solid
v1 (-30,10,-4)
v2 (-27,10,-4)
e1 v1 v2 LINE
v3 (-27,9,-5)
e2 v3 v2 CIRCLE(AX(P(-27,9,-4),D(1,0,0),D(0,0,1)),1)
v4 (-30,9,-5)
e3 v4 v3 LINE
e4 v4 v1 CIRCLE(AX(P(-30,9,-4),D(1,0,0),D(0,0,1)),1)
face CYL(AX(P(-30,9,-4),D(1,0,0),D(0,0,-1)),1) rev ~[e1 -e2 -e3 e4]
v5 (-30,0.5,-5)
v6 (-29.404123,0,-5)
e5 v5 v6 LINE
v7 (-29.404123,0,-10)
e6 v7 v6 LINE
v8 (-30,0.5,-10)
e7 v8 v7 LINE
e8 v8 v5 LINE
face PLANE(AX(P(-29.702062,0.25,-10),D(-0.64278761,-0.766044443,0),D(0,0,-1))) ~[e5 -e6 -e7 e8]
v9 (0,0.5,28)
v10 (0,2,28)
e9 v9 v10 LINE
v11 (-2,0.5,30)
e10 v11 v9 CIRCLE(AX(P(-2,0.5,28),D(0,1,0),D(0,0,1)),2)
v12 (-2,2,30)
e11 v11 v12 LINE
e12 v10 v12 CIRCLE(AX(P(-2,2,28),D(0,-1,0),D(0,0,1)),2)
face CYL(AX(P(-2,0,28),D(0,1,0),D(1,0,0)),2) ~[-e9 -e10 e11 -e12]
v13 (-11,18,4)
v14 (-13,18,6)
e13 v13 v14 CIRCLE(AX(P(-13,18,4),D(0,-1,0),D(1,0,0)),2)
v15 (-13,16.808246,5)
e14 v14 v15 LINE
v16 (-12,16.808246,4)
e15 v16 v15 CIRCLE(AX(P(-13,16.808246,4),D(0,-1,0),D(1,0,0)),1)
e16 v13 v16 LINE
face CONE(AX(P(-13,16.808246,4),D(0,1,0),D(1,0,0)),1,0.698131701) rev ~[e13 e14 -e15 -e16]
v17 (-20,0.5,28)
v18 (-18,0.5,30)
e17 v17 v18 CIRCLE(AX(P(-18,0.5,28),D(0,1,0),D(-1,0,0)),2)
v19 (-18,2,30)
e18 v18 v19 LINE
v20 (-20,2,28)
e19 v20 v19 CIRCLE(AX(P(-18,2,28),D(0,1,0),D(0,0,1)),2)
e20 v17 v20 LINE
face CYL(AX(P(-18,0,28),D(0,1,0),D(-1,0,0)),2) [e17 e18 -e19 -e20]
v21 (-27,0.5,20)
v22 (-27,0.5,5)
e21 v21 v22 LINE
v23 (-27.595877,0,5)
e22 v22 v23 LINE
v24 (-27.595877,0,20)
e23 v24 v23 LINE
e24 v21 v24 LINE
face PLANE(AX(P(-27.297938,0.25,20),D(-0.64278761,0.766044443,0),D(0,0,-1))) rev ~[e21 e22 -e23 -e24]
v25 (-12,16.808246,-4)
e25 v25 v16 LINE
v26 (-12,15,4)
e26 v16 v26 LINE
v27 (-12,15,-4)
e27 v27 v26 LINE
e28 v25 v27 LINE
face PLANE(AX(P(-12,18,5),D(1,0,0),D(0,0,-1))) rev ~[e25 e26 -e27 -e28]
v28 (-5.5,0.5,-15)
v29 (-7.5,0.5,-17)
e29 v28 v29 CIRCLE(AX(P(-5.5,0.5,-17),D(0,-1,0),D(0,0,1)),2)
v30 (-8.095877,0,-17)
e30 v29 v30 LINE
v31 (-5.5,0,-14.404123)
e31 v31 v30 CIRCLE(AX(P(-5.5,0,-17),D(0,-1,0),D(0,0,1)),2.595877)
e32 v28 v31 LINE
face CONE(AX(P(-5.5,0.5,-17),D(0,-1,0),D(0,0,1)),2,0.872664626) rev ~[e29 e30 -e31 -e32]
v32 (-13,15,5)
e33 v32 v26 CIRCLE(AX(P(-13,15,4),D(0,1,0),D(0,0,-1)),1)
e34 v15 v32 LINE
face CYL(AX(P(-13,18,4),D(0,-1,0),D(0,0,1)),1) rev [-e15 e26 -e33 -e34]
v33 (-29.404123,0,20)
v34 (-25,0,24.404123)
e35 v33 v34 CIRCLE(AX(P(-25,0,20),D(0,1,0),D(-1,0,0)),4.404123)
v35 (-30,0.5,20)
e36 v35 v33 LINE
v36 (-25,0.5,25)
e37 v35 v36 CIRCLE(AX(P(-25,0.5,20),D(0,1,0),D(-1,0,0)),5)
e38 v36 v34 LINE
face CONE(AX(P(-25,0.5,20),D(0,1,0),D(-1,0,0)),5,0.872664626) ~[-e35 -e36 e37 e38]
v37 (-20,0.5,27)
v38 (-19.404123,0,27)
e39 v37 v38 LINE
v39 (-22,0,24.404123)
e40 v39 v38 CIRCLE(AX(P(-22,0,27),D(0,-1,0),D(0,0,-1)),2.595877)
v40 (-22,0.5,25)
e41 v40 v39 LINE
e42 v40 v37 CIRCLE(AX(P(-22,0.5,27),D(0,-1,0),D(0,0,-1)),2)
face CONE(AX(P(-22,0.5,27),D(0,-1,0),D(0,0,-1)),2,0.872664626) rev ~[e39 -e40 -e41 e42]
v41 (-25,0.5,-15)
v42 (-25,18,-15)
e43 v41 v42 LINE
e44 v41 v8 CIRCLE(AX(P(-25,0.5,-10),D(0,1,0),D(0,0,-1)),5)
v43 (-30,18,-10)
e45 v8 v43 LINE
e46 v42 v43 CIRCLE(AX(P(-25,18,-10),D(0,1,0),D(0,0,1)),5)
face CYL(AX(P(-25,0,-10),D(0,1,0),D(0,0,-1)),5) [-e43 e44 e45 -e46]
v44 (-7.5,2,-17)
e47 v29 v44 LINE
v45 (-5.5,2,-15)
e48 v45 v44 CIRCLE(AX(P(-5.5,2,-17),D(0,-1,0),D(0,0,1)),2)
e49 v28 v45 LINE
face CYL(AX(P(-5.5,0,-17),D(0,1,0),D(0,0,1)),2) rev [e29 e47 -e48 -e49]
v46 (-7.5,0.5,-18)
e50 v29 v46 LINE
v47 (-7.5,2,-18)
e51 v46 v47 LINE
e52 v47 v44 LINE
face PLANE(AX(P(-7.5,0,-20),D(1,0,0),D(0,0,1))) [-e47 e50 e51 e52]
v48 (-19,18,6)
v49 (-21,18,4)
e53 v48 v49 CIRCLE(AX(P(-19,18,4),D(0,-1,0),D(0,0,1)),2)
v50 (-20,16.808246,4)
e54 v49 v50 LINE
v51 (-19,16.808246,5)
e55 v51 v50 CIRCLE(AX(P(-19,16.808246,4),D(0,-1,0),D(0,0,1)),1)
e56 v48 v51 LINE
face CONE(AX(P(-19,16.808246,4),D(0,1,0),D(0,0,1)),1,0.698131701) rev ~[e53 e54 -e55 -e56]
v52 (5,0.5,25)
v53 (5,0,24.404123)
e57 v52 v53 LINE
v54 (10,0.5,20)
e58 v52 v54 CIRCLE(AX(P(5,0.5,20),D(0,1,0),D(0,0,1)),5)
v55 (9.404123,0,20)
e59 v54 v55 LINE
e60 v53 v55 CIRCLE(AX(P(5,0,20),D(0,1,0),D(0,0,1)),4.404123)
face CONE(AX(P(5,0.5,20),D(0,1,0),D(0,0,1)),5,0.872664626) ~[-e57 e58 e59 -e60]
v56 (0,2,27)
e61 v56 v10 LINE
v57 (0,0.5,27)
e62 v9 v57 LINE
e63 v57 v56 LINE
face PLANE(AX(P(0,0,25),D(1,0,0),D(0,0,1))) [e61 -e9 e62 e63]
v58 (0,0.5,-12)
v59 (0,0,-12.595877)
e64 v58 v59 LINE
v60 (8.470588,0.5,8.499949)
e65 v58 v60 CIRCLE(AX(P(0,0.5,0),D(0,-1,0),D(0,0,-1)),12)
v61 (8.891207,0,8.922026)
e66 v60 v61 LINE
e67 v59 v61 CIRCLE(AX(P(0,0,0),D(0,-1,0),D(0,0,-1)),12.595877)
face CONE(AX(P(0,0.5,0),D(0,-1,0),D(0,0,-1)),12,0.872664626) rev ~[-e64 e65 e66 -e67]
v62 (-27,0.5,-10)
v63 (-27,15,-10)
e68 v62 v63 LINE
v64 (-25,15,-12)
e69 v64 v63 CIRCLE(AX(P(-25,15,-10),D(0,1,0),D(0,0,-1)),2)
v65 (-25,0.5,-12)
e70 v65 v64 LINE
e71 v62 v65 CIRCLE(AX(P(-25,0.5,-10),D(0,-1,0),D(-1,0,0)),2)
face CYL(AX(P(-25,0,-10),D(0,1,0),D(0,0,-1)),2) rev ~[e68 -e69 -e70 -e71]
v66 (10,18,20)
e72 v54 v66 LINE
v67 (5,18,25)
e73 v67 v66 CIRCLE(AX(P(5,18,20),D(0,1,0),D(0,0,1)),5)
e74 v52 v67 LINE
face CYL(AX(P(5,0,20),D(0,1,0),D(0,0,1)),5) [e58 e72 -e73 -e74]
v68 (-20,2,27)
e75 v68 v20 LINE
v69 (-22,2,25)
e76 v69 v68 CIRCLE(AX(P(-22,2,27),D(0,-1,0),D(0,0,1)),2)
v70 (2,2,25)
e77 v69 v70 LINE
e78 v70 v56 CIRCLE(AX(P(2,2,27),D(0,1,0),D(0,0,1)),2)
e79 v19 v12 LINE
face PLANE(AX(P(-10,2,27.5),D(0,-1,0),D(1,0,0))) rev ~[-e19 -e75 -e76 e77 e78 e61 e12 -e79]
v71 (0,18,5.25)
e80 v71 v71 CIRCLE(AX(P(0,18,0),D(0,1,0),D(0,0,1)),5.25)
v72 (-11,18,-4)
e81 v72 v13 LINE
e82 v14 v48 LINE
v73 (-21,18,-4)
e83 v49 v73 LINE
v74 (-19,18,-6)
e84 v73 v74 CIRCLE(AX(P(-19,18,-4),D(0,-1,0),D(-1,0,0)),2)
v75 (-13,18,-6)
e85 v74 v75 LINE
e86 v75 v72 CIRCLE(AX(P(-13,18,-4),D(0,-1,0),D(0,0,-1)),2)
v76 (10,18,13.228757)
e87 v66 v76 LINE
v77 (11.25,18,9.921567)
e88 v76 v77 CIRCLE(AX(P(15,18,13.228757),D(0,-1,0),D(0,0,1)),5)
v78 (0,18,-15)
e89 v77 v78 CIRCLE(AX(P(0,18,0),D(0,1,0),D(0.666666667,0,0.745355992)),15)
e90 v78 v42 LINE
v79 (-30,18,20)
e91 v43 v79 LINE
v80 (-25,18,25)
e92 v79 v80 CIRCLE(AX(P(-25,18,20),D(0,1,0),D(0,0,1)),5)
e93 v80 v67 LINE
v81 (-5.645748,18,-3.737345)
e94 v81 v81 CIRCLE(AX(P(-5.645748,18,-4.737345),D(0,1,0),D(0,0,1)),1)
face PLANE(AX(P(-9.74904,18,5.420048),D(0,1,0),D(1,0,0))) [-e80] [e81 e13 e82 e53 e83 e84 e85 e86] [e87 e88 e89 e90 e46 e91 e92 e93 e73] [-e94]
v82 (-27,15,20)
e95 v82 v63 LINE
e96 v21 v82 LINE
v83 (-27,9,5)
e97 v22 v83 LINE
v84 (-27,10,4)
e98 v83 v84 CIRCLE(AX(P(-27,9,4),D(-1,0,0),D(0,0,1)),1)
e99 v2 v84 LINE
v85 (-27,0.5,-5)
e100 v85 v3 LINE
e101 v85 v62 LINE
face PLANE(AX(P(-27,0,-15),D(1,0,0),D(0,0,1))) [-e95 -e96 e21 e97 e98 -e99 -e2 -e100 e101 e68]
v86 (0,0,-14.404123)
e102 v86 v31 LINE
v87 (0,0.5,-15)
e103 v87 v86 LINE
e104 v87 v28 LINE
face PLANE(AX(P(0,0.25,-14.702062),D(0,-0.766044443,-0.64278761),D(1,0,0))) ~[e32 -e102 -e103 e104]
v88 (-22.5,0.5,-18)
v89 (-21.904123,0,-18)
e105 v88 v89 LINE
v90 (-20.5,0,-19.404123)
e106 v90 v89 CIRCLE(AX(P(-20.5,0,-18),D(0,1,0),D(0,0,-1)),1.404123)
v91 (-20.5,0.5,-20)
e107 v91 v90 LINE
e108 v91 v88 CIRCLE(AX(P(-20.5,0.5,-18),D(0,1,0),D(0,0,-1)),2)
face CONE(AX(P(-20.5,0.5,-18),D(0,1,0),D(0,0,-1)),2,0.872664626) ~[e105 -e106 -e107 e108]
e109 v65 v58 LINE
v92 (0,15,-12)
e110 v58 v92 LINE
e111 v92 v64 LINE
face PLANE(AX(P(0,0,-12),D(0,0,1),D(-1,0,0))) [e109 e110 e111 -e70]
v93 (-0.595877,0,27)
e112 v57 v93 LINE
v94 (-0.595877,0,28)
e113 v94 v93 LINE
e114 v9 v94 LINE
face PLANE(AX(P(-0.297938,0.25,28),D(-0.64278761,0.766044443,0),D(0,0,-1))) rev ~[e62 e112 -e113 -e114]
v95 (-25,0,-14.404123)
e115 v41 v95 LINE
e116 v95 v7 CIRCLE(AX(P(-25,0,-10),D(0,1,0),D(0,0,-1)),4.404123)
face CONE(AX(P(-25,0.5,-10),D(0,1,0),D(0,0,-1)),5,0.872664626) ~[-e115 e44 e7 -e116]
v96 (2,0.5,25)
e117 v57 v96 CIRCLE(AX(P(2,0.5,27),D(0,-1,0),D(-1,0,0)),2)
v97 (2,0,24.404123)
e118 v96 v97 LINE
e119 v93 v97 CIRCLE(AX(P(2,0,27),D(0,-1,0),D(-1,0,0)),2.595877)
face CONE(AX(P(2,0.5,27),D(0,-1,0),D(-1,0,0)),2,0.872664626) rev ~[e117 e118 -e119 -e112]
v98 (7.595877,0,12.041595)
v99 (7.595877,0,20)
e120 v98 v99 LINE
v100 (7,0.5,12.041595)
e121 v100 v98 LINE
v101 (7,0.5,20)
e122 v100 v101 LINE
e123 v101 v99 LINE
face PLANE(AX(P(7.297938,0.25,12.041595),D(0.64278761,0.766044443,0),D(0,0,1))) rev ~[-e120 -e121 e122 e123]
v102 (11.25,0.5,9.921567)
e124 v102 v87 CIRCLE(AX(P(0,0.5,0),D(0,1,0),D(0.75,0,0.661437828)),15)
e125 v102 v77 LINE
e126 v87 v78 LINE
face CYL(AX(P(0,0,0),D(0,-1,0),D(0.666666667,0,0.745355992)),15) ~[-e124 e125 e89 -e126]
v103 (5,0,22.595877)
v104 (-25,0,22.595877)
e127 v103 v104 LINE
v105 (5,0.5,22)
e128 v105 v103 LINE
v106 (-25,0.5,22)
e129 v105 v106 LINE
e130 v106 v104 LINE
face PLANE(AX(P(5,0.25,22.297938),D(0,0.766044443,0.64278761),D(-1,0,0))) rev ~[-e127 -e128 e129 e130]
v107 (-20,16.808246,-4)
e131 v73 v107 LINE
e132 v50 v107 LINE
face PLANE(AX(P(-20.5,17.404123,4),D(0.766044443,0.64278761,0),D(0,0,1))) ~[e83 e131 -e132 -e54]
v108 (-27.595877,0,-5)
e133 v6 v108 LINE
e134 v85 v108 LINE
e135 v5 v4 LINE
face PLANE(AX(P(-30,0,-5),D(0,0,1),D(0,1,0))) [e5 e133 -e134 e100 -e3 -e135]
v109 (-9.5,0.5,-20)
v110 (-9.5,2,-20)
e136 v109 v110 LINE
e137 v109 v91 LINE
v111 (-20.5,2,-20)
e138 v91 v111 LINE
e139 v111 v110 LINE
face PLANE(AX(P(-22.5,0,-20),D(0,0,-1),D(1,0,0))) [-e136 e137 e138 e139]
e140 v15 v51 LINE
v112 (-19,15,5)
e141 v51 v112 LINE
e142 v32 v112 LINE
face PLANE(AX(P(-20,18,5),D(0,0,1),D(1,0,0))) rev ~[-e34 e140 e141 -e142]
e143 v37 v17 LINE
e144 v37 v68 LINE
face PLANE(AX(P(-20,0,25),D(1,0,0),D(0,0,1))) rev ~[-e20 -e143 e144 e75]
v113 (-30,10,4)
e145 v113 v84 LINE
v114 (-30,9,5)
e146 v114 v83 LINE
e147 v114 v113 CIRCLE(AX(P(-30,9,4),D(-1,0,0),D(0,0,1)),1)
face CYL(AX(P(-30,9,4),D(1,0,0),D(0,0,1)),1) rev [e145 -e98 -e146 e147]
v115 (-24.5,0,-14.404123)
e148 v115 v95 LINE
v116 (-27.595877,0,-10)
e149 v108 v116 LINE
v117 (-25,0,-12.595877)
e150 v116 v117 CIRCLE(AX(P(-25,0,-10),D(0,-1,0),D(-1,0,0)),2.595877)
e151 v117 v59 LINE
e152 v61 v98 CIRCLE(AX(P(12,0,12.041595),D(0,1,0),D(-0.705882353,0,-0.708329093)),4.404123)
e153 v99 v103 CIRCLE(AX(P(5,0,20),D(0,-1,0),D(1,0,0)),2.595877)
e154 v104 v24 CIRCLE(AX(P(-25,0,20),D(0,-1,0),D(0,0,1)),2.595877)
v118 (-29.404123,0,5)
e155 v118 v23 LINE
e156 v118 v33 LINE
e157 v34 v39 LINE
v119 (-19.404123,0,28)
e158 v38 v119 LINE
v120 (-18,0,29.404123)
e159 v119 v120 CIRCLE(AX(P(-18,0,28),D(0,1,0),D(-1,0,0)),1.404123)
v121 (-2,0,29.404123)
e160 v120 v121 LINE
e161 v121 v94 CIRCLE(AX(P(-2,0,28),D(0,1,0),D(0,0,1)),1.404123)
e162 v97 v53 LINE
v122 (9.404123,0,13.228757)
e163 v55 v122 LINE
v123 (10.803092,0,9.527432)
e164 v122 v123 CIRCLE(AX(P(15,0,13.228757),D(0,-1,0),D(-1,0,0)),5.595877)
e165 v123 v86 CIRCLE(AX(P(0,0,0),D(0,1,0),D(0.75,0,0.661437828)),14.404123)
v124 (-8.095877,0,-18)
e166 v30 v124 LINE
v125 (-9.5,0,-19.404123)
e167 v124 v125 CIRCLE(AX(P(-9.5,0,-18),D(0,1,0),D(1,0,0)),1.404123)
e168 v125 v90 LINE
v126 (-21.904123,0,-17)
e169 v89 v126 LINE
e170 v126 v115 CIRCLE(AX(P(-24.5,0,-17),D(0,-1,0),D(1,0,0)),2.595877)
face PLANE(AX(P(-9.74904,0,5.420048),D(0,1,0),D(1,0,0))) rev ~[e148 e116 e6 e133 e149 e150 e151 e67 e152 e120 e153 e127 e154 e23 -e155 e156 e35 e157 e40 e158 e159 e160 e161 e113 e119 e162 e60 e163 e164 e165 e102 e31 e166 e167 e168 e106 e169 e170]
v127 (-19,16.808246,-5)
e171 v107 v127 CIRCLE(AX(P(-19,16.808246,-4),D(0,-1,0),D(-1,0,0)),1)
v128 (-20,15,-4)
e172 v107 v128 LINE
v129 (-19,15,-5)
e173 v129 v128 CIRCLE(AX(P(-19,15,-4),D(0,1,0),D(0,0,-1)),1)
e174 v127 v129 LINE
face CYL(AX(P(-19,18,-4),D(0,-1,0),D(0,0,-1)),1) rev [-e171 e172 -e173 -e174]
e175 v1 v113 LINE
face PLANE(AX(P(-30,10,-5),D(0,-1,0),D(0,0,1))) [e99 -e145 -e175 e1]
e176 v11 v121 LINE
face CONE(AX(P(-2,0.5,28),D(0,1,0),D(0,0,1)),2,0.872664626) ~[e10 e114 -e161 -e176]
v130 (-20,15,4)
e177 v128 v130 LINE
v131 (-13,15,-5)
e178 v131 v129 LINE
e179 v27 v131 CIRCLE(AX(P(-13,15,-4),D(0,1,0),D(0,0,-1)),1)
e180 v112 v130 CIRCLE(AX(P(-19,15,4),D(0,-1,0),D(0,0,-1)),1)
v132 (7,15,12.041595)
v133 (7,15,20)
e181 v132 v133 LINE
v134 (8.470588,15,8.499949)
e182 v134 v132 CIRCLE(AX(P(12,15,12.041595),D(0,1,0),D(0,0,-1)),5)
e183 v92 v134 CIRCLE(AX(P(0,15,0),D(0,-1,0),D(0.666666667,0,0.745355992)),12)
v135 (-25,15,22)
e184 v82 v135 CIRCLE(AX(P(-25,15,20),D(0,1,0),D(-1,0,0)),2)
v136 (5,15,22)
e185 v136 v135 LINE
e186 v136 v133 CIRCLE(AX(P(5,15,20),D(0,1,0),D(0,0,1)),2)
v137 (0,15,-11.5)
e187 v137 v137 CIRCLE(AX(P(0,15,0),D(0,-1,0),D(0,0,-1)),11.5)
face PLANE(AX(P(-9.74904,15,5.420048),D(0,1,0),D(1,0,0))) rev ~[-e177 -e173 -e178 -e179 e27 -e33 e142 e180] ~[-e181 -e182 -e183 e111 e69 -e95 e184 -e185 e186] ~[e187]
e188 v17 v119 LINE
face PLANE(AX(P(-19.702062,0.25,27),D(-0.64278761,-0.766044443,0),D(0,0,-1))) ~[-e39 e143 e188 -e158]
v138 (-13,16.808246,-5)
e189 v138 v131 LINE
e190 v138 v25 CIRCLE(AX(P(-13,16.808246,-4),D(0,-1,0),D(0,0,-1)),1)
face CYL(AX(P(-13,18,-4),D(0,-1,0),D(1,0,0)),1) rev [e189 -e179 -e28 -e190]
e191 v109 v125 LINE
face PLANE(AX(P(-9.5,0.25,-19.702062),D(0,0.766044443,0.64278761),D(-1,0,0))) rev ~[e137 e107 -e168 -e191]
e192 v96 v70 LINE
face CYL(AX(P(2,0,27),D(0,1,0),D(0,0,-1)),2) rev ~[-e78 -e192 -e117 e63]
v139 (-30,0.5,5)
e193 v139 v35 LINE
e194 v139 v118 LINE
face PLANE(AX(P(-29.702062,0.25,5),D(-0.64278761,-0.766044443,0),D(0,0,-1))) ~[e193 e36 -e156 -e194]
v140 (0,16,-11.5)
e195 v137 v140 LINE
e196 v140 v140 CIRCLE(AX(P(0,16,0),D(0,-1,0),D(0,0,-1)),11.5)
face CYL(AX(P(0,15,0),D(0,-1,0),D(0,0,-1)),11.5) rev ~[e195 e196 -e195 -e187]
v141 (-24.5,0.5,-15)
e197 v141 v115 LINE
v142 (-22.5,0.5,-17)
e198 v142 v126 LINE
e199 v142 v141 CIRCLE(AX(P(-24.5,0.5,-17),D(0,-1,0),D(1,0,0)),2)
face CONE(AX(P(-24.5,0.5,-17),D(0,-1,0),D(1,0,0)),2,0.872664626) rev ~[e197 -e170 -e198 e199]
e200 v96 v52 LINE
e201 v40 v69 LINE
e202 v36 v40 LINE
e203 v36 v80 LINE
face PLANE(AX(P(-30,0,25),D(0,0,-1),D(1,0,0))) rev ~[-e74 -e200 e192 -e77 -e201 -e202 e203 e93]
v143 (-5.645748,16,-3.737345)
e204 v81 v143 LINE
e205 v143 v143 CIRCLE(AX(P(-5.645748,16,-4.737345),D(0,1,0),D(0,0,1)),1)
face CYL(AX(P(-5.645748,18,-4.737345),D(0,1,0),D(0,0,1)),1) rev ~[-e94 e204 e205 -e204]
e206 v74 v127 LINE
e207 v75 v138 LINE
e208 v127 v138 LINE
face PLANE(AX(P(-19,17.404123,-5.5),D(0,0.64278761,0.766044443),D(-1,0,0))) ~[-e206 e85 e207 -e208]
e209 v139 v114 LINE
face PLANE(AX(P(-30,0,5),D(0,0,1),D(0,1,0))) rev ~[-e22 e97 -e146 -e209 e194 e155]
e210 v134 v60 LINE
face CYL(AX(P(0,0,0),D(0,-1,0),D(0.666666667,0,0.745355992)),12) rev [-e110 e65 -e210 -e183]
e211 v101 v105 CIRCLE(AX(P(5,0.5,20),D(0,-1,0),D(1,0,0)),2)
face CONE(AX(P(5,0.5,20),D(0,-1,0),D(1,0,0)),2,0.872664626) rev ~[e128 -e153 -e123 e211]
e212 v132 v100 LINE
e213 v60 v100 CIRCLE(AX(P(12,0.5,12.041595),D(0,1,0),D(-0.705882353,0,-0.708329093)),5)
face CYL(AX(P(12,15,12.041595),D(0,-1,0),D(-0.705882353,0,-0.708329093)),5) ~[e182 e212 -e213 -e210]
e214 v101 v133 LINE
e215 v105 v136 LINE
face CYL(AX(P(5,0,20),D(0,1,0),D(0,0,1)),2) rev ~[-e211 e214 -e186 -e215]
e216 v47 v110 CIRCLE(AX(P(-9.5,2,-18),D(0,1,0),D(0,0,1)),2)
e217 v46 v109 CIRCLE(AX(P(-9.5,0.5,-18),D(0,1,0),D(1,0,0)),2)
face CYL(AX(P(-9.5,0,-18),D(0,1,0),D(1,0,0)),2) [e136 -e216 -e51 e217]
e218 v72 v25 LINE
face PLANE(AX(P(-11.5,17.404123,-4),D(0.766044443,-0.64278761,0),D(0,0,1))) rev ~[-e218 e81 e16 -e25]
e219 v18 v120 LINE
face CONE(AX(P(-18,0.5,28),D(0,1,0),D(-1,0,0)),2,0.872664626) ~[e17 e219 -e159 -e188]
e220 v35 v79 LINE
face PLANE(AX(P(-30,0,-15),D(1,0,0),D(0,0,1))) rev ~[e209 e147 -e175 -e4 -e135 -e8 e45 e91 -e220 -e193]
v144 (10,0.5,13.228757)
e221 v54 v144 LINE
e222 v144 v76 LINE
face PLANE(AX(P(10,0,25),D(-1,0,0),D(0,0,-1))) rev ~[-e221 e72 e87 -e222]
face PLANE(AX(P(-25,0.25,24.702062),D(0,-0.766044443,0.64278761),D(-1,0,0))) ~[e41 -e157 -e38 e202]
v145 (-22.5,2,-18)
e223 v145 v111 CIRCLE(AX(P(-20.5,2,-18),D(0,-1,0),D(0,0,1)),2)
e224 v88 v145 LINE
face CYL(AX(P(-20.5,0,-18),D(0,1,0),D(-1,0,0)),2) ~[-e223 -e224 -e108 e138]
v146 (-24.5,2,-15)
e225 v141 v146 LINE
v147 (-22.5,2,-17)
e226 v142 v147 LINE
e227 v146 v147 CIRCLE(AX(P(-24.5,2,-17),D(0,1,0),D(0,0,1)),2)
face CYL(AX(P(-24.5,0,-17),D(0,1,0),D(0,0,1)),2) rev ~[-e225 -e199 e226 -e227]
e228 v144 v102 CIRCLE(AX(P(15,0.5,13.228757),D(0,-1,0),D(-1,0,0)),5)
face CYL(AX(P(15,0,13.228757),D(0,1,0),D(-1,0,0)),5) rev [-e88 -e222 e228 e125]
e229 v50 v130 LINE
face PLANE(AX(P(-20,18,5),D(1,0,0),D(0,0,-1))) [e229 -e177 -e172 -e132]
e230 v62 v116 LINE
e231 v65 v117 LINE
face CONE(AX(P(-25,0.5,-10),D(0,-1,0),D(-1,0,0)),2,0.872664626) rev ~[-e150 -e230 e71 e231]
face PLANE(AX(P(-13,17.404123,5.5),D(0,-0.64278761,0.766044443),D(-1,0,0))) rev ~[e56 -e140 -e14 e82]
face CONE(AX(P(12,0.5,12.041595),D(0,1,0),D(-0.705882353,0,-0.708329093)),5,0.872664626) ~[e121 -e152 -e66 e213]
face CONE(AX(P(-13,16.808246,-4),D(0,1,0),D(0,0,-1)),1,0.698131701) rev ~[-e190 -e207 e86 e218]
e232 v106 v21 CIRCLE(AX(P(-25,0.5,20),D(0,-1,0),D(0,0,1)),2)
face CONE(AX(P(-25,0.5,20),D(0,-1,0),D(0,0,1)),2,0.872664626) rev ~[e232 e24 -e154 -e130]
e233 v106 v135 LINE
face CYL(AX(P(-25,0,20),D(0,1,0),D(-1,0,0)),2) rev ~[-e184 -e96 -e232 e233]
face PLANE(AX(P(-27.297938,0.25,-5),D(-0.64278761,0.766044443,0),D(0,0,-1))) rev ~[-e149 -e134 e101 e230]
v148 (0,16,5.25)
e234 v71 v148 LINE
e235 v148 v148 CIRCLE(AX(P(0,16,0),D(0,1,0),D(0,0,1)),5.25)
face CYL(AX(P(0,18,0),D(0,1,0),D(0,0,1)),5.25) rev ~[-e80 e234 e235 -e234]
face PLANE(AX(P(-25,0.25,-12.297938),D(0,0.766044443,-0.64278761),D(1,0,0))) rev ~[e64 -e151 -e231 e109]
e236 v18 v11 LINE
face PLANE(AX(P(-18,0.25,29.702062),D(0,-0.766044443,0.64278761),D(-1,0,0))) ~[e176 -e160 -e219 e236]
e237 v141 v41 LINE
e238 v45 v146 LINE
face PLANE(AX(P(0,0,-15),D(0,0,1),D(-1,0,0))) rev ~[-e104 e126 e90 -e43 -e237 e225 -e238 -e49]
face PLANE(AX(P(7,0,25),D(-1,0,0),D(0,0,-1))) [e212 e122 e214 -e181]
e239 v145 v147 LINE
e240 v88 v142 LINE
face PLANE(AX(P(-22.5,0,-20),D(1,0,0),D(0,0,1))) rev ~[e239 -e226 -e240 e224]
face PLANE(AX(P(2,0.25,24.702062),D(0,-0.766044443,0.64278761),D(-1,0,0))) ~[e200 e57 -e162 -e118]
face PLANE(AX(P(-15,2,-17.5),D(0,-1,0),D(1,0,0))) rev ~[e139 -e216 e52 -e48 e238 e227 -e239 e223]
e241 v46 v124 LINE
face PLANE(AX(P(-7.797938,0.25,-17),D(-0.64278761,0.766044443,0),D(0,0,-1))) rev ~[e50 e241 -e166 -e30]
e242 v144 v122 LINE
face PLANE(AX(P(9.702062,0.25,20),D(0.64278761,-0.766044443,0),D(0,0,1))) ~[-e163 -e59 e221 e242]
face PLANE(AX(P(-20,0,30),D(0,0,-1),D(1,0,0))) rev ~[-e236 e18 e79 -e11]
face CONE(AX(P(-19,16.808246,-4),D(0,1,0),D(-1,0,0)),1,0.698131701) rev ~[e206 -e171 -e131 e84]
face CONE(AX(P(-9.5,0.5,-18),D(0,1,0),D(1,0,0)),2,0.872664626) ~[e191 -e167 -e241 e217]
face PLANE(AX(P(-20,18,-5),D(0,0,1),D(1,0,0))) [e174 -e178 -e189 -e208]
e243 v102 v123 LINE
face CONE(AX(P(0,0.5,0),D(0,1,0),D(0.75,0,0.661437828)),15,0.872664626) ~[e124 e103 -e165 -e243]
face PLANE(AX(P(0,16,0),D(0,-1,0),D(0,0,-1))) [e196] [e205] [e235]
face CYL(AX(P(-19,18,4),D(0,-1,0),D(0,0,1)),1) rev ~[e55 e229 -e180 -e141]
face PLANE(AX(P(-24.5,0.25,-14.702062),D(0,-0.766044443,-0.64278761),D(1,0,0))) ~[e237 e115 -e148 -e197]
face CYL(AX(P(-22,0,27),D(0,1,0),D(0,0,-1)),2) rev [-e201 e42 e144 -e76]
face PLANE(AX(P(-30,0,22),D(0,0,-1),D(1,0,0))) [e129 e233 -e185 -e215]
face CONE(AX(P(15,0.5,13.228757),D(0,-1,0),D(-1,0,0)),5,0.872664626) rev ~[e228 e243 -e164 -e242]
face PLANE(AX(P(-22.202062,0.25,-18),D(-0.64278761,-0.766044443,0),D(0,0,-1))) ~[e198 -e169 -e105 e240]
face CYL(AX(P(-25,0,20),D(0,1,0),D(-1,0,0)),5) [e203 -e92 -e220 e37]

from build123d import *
from OCP.BRepFilletAPI import BRepFilletAPI_MakeChamfer

# Parameters (mm, degrees)
BOSS_EXTRUDE1_DEPTH = 18
FILLET1_R           = 5
SHELL1_T            = -3
SKETCH3_R           = 5.25
CUT_EXTRUDE1_DEPTH  = 44
SKETCH4_R           = 11.5
CUT_EXTRUDE2_DEPTH  = 1
SKETCH5_R           = 1
CUT_EXTRUDE3_DEPTH  = 44
CUT_EXTRUDE4_REACH  = 56.534
SKETCH6_W           = 10
SKETCH6_H           = 10
FILLET2_R           = 1
CUT_EXTRUDE7_REACH  = 45
SKETCH7_W           = 8
SKETCH7_H           = 10
FILLET3_R           = 1
SKETCH8_W           = 20
SKETCH8_H           = 5
SKETCH8_W_2         = 15
BOSS_EXTRUDE2_DEPTH = 2
FILLET4_R           = 2
FILLET5_R           = 5
FILLET6_R           = 5
CHAMFER2_SIZE       = 1
CHAMFER2_SIZE2      = 1.191753593
CHAMFER3_SIZE       = 0.5
CHAMFER3_SIZE2      = 0.595876796


with BuildPart() as part:
    # Sketch1 → Boss-Extrude1 (new body)
    with BuildSketch(Plane(origin=(0, 0, 0), x_dir=(1, 0, 0), z_dir=(0, 1, 0))):
        with BuildLine():
            Line((0, 15), (-30, 15))
            Line((-30, 15), (-30, -25))
            Line((-30, -25), (10, -25))
            Line((10, -25), (10, -11.180339887))
            ThreePointArc((10, -11.180339887), (14.012585384, 5.352331347), (0, 15))
        make_face()
    extrude(amount=BOSS_EXTRUDE1_DEPTH)

    # Fillet1
    fillet1_edges = [part.edges().sort_by_distance(p)[0] for p in [
        (10, 9, 25),
        (-30, 9, 25),
        (-30, 9, -15),
    ]]
    fillet(fillet1_edges, radius=FILLET1_R)

    # Shell1
    shell1_openings = [part.faces().sort_by_distance(p)[0] for p in [
        (-9.03204336, 0, 4.841264845),
    ]]
    offset(amount=SHELL1_T, openings=shell1_openings, kind=Kind.INTERSECTION)

    # Sketch3 → Cut-Extrude1 (cut, through all)
    with BuildSketch(Plane(origin=(0, 18, 0), x_dir=(1, 0, 0), z_dir=(0, 1, 0))):
        with Locations(Location((0, 0, 0), (0, 0, 270))):
            Circle(SKETCH3_R)
    extrude(amount=-CUT_EXTRUDE1_DEPTH, mode=Mode.SUBTRACT)

    # Sketch4 → Cut-Extrude2 (cut)
    with BuildSketch(Plane.XZ.offset(-15)):
        with Locations(Location((0, 0, 0), (0, 0, 270))):
            Circle(SKETCH4_R)
    extrude(amount=-CUT_EXTRUDE2_DEPTH, mode=Mode.SUBTRACT)

    # Sketch5 → Cut-Extrude3 (cut, through all)
    with BuildSketch(Plane(origin=(0, 18, 0), x_dir=(1, 0, 0), z_dir=(0, 1, 0))):
        with Locations(Location((-5.645747546, 4.737344683, 0), (0, 0, 270))):
            Circle(SKETCH5_R)
    extrude(amount=-CUT_EXTRUDE3_DEPTH, mode=Mode.SUBTRACT)

    # Sketch6 → Cut-Extrude4 (cut, up to next)
    with BuildSketch(Plane.ZY.offset(30), mode=Mode.PRIVATE) as cut_extrude4_sk1:
        with Locations((0, 5)):
            Rectangle(SKETCH6_W, SKETCH6_H)
    cut_extrude4_tool1 = extrude(cut_extrude4_sk1.sketch, amount=-CUT_EXTRUDE4_REACH, mode=Mode.PRIVATE) & part.part
    add(cut_extrude4_tool1.solids().sort_by_distance((-30, 5, 0))[0], mode=Mode.SUBTRACT)

    # Fillet2
    fillet2_edges = [part.edges().sort_by_distance(p)[0] for p in [
        (-28.5, 10, 5),
        (-28.5, 10, -5),
    ]]
    fillet(fillet2_edges, radius=FILLET2_R)

    # Sketch7 → Cut-Extrude7 (cut, up to next)
    with BuildSketch(Plane(origin=(0, 18, 0), x_dir=(1, 0, 0), z_dir=(0, 1, 0)), mode=Mode.PRIVATE) as cut_extrude7_sk1:
        with Locations((-16, 0)):
            Rectangle(SKETCH7_W, SKETCH7_H)
    cut_extrude7_tool1 = extrude(cut_extrude7_sk1.sketch, amount=-CUT_EXTRUDE7_REACH, mode=Mode.PRIVATE) & part.part
    add(cut_extrude7_tool1.solids().sort_by_distance((-16, 18, 0))[0], mode=Mode.SUBTRACT)

    # Fillet3
    fillet3_edges = [part.edges().sort_by_distance(p)[0] for p in [
        (-20, 16.5, 5),
        (-20, 16.5, -5),
        (-12, 16.5, -5),
        (-12, 16.5, 5),
    ]]
    fillet(fillet3_edges, radius=FILLET3_R)

    # Sketch8 → Boss-Extrude2 (add)
    with BuildSketch(Plane.XZ):
        with Locations((-10, 27.5)):
            Rectangle(SKETCH8_W, SKETCH8_H)
        with Locations((-15, -17.5)):
            Rectangle(SKETCH8_W_2, SKETCH8_H)
    extrude(amount=-BOSS_EXTRUDE2_DEPTH)

    # Fillet4
    fillet4_edges = [part.edges().sort_by_distance(p)[0] for p in [
        (-20, 1, 25),
        (-20, 1, 30),
        (0, 1, 30),
        (0, 1, 25),
        (-22.5, 1, -20),
        (-22.5, 1, -15),
        (-7.5, 1, -15),
        (-7.5, 1, -20),
    ]]
    fillet(fillet4_edges, radius=FILLET4_R)

    # Fillet5
    fillet5_edges = [part.edges().sort_by_distance(p)[0] for p in [
        (10, 9, 11.180339887),
    ]]
    fillet(fillet5_edges, radius=FILLET5_R)

    # Fillet6
    fillet6_edges = [part.edges().sort_by_distance(p)[0] for p in [
        (7, 7.5, 9.746794345),
    ]]
    fillet(fillet6_edges, radius=FILLET6_R)

    # Chamfer2
    chamfer2_edges = [part.edges().sort_by_distance(p)[0] for p in [
        (-16, 18, -5),
        (-12, 18, 0),
        (-16, 18, 5),
        (-20, 18, 0),
        (-12.292893219, 18, -4.707106781),
        (-12.292893219, 18, 4.707106781),
        (-19.707106781, 18, 4.707106781),
        (-19.707106781, 18, -4.707106781),
    ]]
    chamfer2_side = [part.faces().sort_by_distance(p)[0] for p in [
        (-9.188665207, 18, 5.405494126),
    ]]
    chamfer(chamfer2_edges, length=CHAMFER2_SIZE, length2=CHAMFER2_SIZE2, reference=chamfer2_side[0])

    # Chamfer3: one chamfer whose edges measure the first distance from different faces: ONE call of the kernel's chamfer builder (chamfer() names one face for all edges)
    chamfer3_edges_1 = [part.edges().sort_by_distance(p)[0] for p in [
        (10, 0, 16.614378278),
    ]]
    chamfer3_side_1 = [part.faces().sort_by_distance(p)[0] for p in [
        (10, 9, 16.614378278),
    ]]
    chamfer3_edges_2 = [part.edges().sort_by_distance(p)[0] for p in [
        (-22.5, 0, -17.5),
    ]]
    chamfer3_side_2 = [part.faces().sort_by_distance(p)[0] for p in [
        (-22.5, 1, -17.5),
    ]]
    chamfer3_edges_3 = [part.edges().sort_by_distance(p)[0] for p in [
        (-24.75, 0, -15),
        (-2.75, 0, -15),
    ]]
    chamfer3_side_3 = [part.faces().sort_by_distance(p)[0] for p in [
        (-12.269417476, 9.737864078, -15),
    ]]
    chamfer3_edges_4 = [part.edges().sort_by_distance(p)[0] for p in [
        (-15, 0, -20),
    ]]
    chamfer3_side_4 = [part.faces().sort_by_distance(p)[0] for p in [
        (-15, 1, -20),
    ]]
    chamfer3_edges_5 = [part.edges().sort_by_distance(p)[0] for p in [
        (-7.5, 0, -17.5),
    ]]
    chamfer3_side_5 = [part.faces().sort_by_distance(p)[0] for p in [
        (-7.5, 1, -17.5),
    ]]
    chamfer3_edges_6 = [part.edges().sort_by_distance(p)[0] for p in [
        (3.5, 0, 25),
        (-23.5, 0, 25),
    ]]
    chamfer3_side_6 = [part.faces().sort_by_distance(p)[0] for p in [
        (-10, 9.780487805, 25),
    ]]
    chamfer3_edges_7 = [part.edges().sort_by_distance(p)[0] for p in [
        (0, 0, 27.5),
    ]]
    chamfer3_side_7 = [part.faces().sort_by_distance(p)[0] for p in [
        (0, 1, 27.5),
    ]]
    chamfer3_edges_8 = [part.edges().sort_by_distance(p)[0] for p in [
        (-10, 0, 30),
    ]]
    chamfer3_side_8 = [part.faces().sort_by_distance(p)[0] for p in [
        (-10, 1, 30),
    ]]
    chamfer3_edges_9 = [part.edges().sort_by_distance(p)[0] for p in [
        (-20, 0, 27.5),
    ]]
    chamfer3_side_9 = [part.faces().sort_by_distance(p)[0] for p in [
        (-20, 1, 27.5),
    ]]
    chamfer3_edges_10 = [part.edges().sort_by_distance(p)[0] for p in [
        (-19.414213562, 0, 29.414213562),
    ]]
    chamfer3_side_10 = [part.faces().sort_by_distance(p)[0] for p in [
        (-19.414213562, 1, 29.414213562),
    ]]
    chamfer3_edges_11 = [part.edges().sort_by_distance(p)[0] for p in [
        (-0.585786438, 0, 29.414213562),
    ]]
    chamfer3_side_11 = [part.faces().sort_by_distance(p)[0] for p in [
        (-0.585786438, 1, 29.414213562),
    ]]
    chamfer3_edges_12 = [part.edges().sort_by_distance(p)[0] for p in [
        (-8.085786438, 0, -19.414213562),
    ]]
    chamfer3_side_12 = [part.faces().sort_by_distance(p)[0] for p in [
        (-8.085786438, 1, -19.414213562),
    ]]
    chamfer3_edges_13 = [part.edges().sort_by_distance(p)[0] for p in [
        (-21.914213562, 0, -19.414213562),
    ]]
    chamfer3_side_13 = [part.faces().sort_by_distance(p)[0] for p in [
        (-21.914213562, 1, -19.414213562),
    ]]
    chamfer3_edges_14 = [part.edges().sort_by_distance(p)[0] for p in [
        (-30, 0, -7.5),
        (-30, 0, 12.5),
    ]]
    chamfer3_side_14 = [part.faces().sort_by_distance(p)[0] for p in [
        (-30, 9.908961826, 6.130383675),
    ]]
    chamfer3_edges_15 = [part.edges().sort_by_distance(p)[0] for p in [
        (-28.535533906, 0, -13.535533906),
    ]]
    chamfer3_side_15 = [part.faces().sort_by_distance(p)[0] for p in [
        (-28.535533906, 9, -13.535533906),
    ]]
    chamfer3_edges_16 = [part.edges().sort_by_distance(p)[0] for p in [
        (-23.085786438, 0, -15.585786438),
    ]]
    chamfer3_side_16 = [part.faces().sort_by_distance(p)[0] for p in [
        (-23.085786438, 1, -15.585786438),
    ]]
    chamfer3_edges_17 = [part.edges().sort_by_distance(p)[0] for p in [
        (-28.535533906, 0, 23.535533906),
    ]]
    chamfer3_side_17 = [part.faces().sort_by_distance(p)[0] for p in [
        (-28.535533906, 9, 23.535533906),
    ]]
    chamfer3_edges_18 = [part.edges().sort_by_distance(p)[0] for p in [
        (-6.914213562, 0, -15.585786438),
    ]]
    chamfer3_side_18 = [part.faces().sort_by_distance(p)[0] for p in [
        (-6.914213562, 1, -15.585786438),
    ]]
    chamfer3_edges_19 = [part.edges().sort_by_distance(p)[0] for p in [
        (0.585786438, 0, 25.585786438),
    ]]
    chamfer3_side_19 = [part.faces().sort_by_distance(p)[0] for p in [
        (0.585786438, 1, 25.585786438),
    ]]
    chamfer3_edges_20 = [part.edges().sort_by_distance(p)[0] for p in [
        (-20.585786438, 0, 25.585786438),
    ]]
    chamfer3_side_20 = [part.faces().sort_by_distance(p)[0] for p in [
        (-20.585786438, 1, 25.585786438),
    ]]
    chamfer3_edges_21 = [part.edges().sort_by_distance(p)[0] for p in [
        (8.535533906, 0, 23.535533906),
    ]]
    chamfer3_side_21 = [part.faces().sort_by_distance(p)[0] for p in [
        (8.535533906, 9, 23.535533906),
    ]]
    chamfer3_edges_22 = [part.edges().sort_by_distance(p)[0] for p in [
        (13.671567416, 0, -6.171567416),
    ]]
    chamfer3_side_22 = [part.faces().sort_by_distance(p)[0] for p in [
        (13.671567416, 9, -6.171567416),
    ]]
    chamfer3_edges_23 = [part.edges().sort_by_distance(p)[0] for p in [
        (10.322928267, 0, 11.460989602),
    ]]
    chamfer3_side_23 = [part.faces().sort_by_distance(p)[0] for p in [
        (10.322928267, 9, 11.460989602),
    ]]
    chamfer3_edges_24 = [part.edges().sort_by_distance(p)[0] for p in [
        (11.090522742, 0, -4.582609007),
    ]]
    chamfer3_side_24 = [part.faces().sort_by_distance(p)[0] for p in [
        (11.090522742, 7.5, -4.582609007),
    ]]
    chamfer3_edges_25 = [part.edges().sort_by_distance(p)[0] for p in [
        (7.382259274, 0, 10.124182107),
    ]]
    chamfer3_side_25 = [part.faces().sort_by_distance(p)[0] for p in [
        (7.382259274, 7.5, 10.124182107),
    ]]
    chamfer3_edges_26 = [part.edges().sort_by_distance(p)[0] for p in [
        (-12.5, 0, -12),
    ]]
    chamfer3_side_26 = [part.faces().sort_by_distance(p)[0] for p in [
        (-12.5, 7.5, -12),
    ]]
    chamfer3_edges_27 = [part.edges().sort_by_distance(p)[0] for p in [
        (-27, 0, -7.5),
        (-27, 0, 12.5),
    ]]
    chamfer3_side_27 = [part.faces().sort_by_distance(p)[0] for p in [
        (-27, 8.216199267, 6.420697751),
    ]]
    chamfer3_edges_28 = [part.edges().sort_by_distance(p)[0] for p in [
        (-10, 0, 22),
    ]]
    chamfer3_side_28 = [part.faces().sort_by_distance(p)[0] for p in [
        (-10, 7.5, 22),
    ]]
    chamfer3_edges_29 = [part.edges().sort_by_distance(p)[0] for p in [
        (7, 0, 16.020797289),
    ]]
    chamfer3_side_29 = [part.faces().sort_by_distance(p)[0] for p in [
        (7, 7.5, 16.020797289),
    ]]
    chamfer3_edges_30 = [part.edges().sort_by_distance(p)[0] for p in [
        (6.414213562, 0, 21.414213562),
    ]]
    chamfer3_side_30 = [part.faces().sort_by_distance(p)[0] for p in [
        (6.414213562, 7.5, 21.414213562),
    ]]
    chamfer3_edges_31 = [part.edges().sort_by_distance(p)[0] for p in [
        (-26.414213562, 0, 21.414213562),
    ]]
    chamfer3_side_31 = [part.faces().sort_by_distance(p)[0] for p in [
        (-26.414213562, 7.5, 21.414213562),
    ]]
    chamfer3_edges_32 = [part.edges().sort_by_distance(p)[0] for p in [
        (-26.414213562, 0, -11.414213562),
    ]]
    chamfer3_side_32 = [part.faces().sort_by_distance(p)[0] for p in [
        (-26.414213562, 7.5, -11.414213562),
    ]]
    chamfer3 = BRepFilletAPI_MakeChamfer(part.part.solid().wrapped)
    for e in chamfer3_edges_1:
        chamfer3.Add(CHAMFER3_SIZE, CHAMFER3_SIZE2, e.wrapped, chamfer3_side_1[0].wrapped)  # the first distance lies on this face
    for e in chamfer3_edges_2:
        chamfer3.Add(CHAMFER3_SIZE, CHAMFER3_SIZE2, e.wrapped, chamfer3_side_2[0].wrapped)  # the first distance lies on this face
    for e in chamfer3_edges_3:
        chamfer3.Add(CHAMFER3_SIZE, CHAMFER3_SIZE2, e.wrapped, chamfer3_side_3[0].wrapped)  # the first distance lies on this face
    for e in chamfer3_edges_4:
        chamfer3.Add(CHAMFER3_SIZE, CHAMFER3_SIZE2, e.wrapped, chamfer3_side_4[0].wrapped)  # the first distance lies on this face
    for e in chamfer3_edges_5:
        chamfer3.Add(CHAMFER3_SIZE, CHAMFER3_SIZE2, e.wrapped, chamfer3_side_5[0].wrapped)  # the first distance lies on this face
    for e in chamfer3_edges_6:
        chamfer3.Add(CHAMFER3_SIZE, CHAMFER3_SIZE2, e.wrapped, chamfer3_side_6[0].wrapped)  # the first distance lies on this face
    for e in chamfer3_edges_7:
        chamfer3.Add(CHAMFER3_SIZE, CHAMFER3_SIZE2, e.wrapped, chamfer3_side_7[0].wrapped)  # the first distance lies on this face
    for e in chamfer3_edges_8:
        chamfer3.Add(CHAMFER3_SIZE, CHAMFER3_SIZE2, e.wrapped, chamfer3_side_8[0].wrapped)  # the first distance lies on this face
    for e in chamfer3_edges_9:
        chamfer3.Add(CHAMFER3_SIZE, CHAMFER3_SIZE2, e.wrapped, chamfer3_side_9[0].wrapped)  # the first distance lies on this face
    for e in chamfer3_edges_10:
        chamfer3.Add(CHAMFER3_SIZE, CHAMFER3_SIZE2, e.wrapped, chamfer3_side_10[0].wrapped)  # the first distance lies on this face
    for e in chamfer3_edges_11:
        chamfer3.Add(CHAMFER3_SIZE, CHAMFER3_SIZE2, e.wrapped, chamfer3_side_11[0].wrapped)  # the first distance lies on this face
    for e in chamfer3_edges_12:
        chamfer3.Add(CHAMFER3_SIZE, CHAMFER3_SIZE2, e.wrapped, chamfer3_side_12[0].wrapped)  # the first distance lies on this face
    for e in chamfer3_edges_13:
        chamfer3.Add(CHAMFER3_SIZE, CHAMFER3_SIZE2, e.wrapped, chamfer3_side_13[0].wrapped)  # the first distance lies on this face
    for e in chamfer3_edges_14:
        chamfer3.Add(CHAMFER3_SIZE, CHAMFER3_SIZE2, e.wrapped, chamfer3_side_14[0].wrapped)  # the first distance lies on this face
    for e in chamfer3_edges_15:
        chamfer3.Add(CHAMFER3_SIZE, CHAMFER3_SIZE2, e.wrapped, chamfer3_side_15[0].wrapped)  # the first distance lies on this face
    for e in chamfer3_edges_16:
        chamfer3.Add(CHAMFER3_SIZE, CHAMFER3_SIZE2, e.wrapped, chamfer3_side_16[0].wrapped)  # the first distance lies on this face
    for e in chamfer3_edges_17:
        chamfer3.Add(CHAMFER3_SIZE, CHAMFER3_SIZE2, e.wrapped, chamfer3_side_17[0].wrapped)  # the first distance lies on this face
    for e in chamfer3_edges_18:
        chamfer3.Add(CHAMFER3_SIZE, CHAMFER3_SIZE2, e.wrapped, chamfer3_side_18[0].wrapped)  # the first distance lies on this face
    for e in chamfer3_edges_19:
        chamfer3.Add(CHAMFER3_SIZE, CHAMFER3_SIZE2, e.wrapped, chamfer3_side_19[0].wrapped)  # the first distance lies on this face
    for e in chamfer3_edges_20:
        chamfer3.Add(CHAMFER3_SIZE, CHAMFER3_SIZE2, e.wrapped, chamfer3_side_20[0].wrapped)  # the first distance lies on this face
    for e in chamfer3_edges_21:
        chamfer3.Add(CHAMFER3_SIZE, CHAMFER3_SIZE2, e.wrapped, chamfer3_side_21[0].wrapped)  # the first distance lies on this face
    for e in chamfer3_edges_22:
        chamfer3.Add(CHAMFER3_SIZE, CHAMFER3_SIZE2, e.wrapped, chamfer3_side_22[0].wrapped)  # the first distance lies on this face
    for e in chamfer3_edges_23:
        chamfer3.Add(CHAMFER3_SIZE, CHAMFER3_SIZE2, e.wrapped, chamfer3_side_23[0].wrapped)  # the first distance lies on this face
    for e in chamfer3_edges_24:
        chamfer3.Add(CHAMFER3_SIZE, CHAMFER3_SIZE2, e.wrapped, chamfer3_side_24[0].wrapped)  # the first distance lies on this face
    for e in chamfer3_edges_25:
        chamfer3.Add(CHAMFER3_SIZE, CHAMFER3_SIZE2, e.wrapped, chamfer3_side_25[0].wrapped)  # the first distance lies on this face
    for e in chamfer3_edges_26:
        chamfer3.Add(CHAMFER3_SIZE, CHAMFER3_SIZE2, e.wrapped, chamfer3_side_26[0].wrapped)  # the first distance lies on this face
    for e in chamfer3_edges_27:
        chamfer3.Add(CHAMFER3_SIZE, CHAMFER3_SIZE2, e.wrapped, chamfer3_side_27[0].wrapped)  # the first distance lies on this face
    for e in chamfer3_edges_28:
        chamfer3.Add(CHAMFER3_SIZE, CHAMFER3_SIZE2, e.wrapped, chamfer3_side_28[0].wrapped)  # the first distance lies on this face
    for e in chamfer3_edges_29:
        chamfer3.Add(CHAMFER3_SIZE, CHAMFER3_SIZE2, e.wrapped, chamfer3_side_29[0].wrapped)  # the first distance lies on this face
    for e in chamfer3_edges_30:
        chamfer3.Add(CHAMFER3_SIZE, CHAMFER3_SIZE2, e.wrapped, chamfer3_side_30[0].wrapped)  # the first distance lies on this face
    for e in chamfer3_edges_31:
        chamfer3.Add(CHAMFER3_SIZE, CHAMFER3_SIZE2, e.wrapped, chamfer3_side_31[0].wrapped)  # the first distance lies on this face
    for e in chamfer3_edges_32:
        chamfer3.Add(CHAMFER3_SIZE, CHAMFER3_SIZE2, e.wrapped, chamfer3_side_32[0].wrapped)  # the first distance lies on this face
    add(Compound.cast(chamfer3.Shape()), mode=Mode.REPLACE)


solid = part.part
